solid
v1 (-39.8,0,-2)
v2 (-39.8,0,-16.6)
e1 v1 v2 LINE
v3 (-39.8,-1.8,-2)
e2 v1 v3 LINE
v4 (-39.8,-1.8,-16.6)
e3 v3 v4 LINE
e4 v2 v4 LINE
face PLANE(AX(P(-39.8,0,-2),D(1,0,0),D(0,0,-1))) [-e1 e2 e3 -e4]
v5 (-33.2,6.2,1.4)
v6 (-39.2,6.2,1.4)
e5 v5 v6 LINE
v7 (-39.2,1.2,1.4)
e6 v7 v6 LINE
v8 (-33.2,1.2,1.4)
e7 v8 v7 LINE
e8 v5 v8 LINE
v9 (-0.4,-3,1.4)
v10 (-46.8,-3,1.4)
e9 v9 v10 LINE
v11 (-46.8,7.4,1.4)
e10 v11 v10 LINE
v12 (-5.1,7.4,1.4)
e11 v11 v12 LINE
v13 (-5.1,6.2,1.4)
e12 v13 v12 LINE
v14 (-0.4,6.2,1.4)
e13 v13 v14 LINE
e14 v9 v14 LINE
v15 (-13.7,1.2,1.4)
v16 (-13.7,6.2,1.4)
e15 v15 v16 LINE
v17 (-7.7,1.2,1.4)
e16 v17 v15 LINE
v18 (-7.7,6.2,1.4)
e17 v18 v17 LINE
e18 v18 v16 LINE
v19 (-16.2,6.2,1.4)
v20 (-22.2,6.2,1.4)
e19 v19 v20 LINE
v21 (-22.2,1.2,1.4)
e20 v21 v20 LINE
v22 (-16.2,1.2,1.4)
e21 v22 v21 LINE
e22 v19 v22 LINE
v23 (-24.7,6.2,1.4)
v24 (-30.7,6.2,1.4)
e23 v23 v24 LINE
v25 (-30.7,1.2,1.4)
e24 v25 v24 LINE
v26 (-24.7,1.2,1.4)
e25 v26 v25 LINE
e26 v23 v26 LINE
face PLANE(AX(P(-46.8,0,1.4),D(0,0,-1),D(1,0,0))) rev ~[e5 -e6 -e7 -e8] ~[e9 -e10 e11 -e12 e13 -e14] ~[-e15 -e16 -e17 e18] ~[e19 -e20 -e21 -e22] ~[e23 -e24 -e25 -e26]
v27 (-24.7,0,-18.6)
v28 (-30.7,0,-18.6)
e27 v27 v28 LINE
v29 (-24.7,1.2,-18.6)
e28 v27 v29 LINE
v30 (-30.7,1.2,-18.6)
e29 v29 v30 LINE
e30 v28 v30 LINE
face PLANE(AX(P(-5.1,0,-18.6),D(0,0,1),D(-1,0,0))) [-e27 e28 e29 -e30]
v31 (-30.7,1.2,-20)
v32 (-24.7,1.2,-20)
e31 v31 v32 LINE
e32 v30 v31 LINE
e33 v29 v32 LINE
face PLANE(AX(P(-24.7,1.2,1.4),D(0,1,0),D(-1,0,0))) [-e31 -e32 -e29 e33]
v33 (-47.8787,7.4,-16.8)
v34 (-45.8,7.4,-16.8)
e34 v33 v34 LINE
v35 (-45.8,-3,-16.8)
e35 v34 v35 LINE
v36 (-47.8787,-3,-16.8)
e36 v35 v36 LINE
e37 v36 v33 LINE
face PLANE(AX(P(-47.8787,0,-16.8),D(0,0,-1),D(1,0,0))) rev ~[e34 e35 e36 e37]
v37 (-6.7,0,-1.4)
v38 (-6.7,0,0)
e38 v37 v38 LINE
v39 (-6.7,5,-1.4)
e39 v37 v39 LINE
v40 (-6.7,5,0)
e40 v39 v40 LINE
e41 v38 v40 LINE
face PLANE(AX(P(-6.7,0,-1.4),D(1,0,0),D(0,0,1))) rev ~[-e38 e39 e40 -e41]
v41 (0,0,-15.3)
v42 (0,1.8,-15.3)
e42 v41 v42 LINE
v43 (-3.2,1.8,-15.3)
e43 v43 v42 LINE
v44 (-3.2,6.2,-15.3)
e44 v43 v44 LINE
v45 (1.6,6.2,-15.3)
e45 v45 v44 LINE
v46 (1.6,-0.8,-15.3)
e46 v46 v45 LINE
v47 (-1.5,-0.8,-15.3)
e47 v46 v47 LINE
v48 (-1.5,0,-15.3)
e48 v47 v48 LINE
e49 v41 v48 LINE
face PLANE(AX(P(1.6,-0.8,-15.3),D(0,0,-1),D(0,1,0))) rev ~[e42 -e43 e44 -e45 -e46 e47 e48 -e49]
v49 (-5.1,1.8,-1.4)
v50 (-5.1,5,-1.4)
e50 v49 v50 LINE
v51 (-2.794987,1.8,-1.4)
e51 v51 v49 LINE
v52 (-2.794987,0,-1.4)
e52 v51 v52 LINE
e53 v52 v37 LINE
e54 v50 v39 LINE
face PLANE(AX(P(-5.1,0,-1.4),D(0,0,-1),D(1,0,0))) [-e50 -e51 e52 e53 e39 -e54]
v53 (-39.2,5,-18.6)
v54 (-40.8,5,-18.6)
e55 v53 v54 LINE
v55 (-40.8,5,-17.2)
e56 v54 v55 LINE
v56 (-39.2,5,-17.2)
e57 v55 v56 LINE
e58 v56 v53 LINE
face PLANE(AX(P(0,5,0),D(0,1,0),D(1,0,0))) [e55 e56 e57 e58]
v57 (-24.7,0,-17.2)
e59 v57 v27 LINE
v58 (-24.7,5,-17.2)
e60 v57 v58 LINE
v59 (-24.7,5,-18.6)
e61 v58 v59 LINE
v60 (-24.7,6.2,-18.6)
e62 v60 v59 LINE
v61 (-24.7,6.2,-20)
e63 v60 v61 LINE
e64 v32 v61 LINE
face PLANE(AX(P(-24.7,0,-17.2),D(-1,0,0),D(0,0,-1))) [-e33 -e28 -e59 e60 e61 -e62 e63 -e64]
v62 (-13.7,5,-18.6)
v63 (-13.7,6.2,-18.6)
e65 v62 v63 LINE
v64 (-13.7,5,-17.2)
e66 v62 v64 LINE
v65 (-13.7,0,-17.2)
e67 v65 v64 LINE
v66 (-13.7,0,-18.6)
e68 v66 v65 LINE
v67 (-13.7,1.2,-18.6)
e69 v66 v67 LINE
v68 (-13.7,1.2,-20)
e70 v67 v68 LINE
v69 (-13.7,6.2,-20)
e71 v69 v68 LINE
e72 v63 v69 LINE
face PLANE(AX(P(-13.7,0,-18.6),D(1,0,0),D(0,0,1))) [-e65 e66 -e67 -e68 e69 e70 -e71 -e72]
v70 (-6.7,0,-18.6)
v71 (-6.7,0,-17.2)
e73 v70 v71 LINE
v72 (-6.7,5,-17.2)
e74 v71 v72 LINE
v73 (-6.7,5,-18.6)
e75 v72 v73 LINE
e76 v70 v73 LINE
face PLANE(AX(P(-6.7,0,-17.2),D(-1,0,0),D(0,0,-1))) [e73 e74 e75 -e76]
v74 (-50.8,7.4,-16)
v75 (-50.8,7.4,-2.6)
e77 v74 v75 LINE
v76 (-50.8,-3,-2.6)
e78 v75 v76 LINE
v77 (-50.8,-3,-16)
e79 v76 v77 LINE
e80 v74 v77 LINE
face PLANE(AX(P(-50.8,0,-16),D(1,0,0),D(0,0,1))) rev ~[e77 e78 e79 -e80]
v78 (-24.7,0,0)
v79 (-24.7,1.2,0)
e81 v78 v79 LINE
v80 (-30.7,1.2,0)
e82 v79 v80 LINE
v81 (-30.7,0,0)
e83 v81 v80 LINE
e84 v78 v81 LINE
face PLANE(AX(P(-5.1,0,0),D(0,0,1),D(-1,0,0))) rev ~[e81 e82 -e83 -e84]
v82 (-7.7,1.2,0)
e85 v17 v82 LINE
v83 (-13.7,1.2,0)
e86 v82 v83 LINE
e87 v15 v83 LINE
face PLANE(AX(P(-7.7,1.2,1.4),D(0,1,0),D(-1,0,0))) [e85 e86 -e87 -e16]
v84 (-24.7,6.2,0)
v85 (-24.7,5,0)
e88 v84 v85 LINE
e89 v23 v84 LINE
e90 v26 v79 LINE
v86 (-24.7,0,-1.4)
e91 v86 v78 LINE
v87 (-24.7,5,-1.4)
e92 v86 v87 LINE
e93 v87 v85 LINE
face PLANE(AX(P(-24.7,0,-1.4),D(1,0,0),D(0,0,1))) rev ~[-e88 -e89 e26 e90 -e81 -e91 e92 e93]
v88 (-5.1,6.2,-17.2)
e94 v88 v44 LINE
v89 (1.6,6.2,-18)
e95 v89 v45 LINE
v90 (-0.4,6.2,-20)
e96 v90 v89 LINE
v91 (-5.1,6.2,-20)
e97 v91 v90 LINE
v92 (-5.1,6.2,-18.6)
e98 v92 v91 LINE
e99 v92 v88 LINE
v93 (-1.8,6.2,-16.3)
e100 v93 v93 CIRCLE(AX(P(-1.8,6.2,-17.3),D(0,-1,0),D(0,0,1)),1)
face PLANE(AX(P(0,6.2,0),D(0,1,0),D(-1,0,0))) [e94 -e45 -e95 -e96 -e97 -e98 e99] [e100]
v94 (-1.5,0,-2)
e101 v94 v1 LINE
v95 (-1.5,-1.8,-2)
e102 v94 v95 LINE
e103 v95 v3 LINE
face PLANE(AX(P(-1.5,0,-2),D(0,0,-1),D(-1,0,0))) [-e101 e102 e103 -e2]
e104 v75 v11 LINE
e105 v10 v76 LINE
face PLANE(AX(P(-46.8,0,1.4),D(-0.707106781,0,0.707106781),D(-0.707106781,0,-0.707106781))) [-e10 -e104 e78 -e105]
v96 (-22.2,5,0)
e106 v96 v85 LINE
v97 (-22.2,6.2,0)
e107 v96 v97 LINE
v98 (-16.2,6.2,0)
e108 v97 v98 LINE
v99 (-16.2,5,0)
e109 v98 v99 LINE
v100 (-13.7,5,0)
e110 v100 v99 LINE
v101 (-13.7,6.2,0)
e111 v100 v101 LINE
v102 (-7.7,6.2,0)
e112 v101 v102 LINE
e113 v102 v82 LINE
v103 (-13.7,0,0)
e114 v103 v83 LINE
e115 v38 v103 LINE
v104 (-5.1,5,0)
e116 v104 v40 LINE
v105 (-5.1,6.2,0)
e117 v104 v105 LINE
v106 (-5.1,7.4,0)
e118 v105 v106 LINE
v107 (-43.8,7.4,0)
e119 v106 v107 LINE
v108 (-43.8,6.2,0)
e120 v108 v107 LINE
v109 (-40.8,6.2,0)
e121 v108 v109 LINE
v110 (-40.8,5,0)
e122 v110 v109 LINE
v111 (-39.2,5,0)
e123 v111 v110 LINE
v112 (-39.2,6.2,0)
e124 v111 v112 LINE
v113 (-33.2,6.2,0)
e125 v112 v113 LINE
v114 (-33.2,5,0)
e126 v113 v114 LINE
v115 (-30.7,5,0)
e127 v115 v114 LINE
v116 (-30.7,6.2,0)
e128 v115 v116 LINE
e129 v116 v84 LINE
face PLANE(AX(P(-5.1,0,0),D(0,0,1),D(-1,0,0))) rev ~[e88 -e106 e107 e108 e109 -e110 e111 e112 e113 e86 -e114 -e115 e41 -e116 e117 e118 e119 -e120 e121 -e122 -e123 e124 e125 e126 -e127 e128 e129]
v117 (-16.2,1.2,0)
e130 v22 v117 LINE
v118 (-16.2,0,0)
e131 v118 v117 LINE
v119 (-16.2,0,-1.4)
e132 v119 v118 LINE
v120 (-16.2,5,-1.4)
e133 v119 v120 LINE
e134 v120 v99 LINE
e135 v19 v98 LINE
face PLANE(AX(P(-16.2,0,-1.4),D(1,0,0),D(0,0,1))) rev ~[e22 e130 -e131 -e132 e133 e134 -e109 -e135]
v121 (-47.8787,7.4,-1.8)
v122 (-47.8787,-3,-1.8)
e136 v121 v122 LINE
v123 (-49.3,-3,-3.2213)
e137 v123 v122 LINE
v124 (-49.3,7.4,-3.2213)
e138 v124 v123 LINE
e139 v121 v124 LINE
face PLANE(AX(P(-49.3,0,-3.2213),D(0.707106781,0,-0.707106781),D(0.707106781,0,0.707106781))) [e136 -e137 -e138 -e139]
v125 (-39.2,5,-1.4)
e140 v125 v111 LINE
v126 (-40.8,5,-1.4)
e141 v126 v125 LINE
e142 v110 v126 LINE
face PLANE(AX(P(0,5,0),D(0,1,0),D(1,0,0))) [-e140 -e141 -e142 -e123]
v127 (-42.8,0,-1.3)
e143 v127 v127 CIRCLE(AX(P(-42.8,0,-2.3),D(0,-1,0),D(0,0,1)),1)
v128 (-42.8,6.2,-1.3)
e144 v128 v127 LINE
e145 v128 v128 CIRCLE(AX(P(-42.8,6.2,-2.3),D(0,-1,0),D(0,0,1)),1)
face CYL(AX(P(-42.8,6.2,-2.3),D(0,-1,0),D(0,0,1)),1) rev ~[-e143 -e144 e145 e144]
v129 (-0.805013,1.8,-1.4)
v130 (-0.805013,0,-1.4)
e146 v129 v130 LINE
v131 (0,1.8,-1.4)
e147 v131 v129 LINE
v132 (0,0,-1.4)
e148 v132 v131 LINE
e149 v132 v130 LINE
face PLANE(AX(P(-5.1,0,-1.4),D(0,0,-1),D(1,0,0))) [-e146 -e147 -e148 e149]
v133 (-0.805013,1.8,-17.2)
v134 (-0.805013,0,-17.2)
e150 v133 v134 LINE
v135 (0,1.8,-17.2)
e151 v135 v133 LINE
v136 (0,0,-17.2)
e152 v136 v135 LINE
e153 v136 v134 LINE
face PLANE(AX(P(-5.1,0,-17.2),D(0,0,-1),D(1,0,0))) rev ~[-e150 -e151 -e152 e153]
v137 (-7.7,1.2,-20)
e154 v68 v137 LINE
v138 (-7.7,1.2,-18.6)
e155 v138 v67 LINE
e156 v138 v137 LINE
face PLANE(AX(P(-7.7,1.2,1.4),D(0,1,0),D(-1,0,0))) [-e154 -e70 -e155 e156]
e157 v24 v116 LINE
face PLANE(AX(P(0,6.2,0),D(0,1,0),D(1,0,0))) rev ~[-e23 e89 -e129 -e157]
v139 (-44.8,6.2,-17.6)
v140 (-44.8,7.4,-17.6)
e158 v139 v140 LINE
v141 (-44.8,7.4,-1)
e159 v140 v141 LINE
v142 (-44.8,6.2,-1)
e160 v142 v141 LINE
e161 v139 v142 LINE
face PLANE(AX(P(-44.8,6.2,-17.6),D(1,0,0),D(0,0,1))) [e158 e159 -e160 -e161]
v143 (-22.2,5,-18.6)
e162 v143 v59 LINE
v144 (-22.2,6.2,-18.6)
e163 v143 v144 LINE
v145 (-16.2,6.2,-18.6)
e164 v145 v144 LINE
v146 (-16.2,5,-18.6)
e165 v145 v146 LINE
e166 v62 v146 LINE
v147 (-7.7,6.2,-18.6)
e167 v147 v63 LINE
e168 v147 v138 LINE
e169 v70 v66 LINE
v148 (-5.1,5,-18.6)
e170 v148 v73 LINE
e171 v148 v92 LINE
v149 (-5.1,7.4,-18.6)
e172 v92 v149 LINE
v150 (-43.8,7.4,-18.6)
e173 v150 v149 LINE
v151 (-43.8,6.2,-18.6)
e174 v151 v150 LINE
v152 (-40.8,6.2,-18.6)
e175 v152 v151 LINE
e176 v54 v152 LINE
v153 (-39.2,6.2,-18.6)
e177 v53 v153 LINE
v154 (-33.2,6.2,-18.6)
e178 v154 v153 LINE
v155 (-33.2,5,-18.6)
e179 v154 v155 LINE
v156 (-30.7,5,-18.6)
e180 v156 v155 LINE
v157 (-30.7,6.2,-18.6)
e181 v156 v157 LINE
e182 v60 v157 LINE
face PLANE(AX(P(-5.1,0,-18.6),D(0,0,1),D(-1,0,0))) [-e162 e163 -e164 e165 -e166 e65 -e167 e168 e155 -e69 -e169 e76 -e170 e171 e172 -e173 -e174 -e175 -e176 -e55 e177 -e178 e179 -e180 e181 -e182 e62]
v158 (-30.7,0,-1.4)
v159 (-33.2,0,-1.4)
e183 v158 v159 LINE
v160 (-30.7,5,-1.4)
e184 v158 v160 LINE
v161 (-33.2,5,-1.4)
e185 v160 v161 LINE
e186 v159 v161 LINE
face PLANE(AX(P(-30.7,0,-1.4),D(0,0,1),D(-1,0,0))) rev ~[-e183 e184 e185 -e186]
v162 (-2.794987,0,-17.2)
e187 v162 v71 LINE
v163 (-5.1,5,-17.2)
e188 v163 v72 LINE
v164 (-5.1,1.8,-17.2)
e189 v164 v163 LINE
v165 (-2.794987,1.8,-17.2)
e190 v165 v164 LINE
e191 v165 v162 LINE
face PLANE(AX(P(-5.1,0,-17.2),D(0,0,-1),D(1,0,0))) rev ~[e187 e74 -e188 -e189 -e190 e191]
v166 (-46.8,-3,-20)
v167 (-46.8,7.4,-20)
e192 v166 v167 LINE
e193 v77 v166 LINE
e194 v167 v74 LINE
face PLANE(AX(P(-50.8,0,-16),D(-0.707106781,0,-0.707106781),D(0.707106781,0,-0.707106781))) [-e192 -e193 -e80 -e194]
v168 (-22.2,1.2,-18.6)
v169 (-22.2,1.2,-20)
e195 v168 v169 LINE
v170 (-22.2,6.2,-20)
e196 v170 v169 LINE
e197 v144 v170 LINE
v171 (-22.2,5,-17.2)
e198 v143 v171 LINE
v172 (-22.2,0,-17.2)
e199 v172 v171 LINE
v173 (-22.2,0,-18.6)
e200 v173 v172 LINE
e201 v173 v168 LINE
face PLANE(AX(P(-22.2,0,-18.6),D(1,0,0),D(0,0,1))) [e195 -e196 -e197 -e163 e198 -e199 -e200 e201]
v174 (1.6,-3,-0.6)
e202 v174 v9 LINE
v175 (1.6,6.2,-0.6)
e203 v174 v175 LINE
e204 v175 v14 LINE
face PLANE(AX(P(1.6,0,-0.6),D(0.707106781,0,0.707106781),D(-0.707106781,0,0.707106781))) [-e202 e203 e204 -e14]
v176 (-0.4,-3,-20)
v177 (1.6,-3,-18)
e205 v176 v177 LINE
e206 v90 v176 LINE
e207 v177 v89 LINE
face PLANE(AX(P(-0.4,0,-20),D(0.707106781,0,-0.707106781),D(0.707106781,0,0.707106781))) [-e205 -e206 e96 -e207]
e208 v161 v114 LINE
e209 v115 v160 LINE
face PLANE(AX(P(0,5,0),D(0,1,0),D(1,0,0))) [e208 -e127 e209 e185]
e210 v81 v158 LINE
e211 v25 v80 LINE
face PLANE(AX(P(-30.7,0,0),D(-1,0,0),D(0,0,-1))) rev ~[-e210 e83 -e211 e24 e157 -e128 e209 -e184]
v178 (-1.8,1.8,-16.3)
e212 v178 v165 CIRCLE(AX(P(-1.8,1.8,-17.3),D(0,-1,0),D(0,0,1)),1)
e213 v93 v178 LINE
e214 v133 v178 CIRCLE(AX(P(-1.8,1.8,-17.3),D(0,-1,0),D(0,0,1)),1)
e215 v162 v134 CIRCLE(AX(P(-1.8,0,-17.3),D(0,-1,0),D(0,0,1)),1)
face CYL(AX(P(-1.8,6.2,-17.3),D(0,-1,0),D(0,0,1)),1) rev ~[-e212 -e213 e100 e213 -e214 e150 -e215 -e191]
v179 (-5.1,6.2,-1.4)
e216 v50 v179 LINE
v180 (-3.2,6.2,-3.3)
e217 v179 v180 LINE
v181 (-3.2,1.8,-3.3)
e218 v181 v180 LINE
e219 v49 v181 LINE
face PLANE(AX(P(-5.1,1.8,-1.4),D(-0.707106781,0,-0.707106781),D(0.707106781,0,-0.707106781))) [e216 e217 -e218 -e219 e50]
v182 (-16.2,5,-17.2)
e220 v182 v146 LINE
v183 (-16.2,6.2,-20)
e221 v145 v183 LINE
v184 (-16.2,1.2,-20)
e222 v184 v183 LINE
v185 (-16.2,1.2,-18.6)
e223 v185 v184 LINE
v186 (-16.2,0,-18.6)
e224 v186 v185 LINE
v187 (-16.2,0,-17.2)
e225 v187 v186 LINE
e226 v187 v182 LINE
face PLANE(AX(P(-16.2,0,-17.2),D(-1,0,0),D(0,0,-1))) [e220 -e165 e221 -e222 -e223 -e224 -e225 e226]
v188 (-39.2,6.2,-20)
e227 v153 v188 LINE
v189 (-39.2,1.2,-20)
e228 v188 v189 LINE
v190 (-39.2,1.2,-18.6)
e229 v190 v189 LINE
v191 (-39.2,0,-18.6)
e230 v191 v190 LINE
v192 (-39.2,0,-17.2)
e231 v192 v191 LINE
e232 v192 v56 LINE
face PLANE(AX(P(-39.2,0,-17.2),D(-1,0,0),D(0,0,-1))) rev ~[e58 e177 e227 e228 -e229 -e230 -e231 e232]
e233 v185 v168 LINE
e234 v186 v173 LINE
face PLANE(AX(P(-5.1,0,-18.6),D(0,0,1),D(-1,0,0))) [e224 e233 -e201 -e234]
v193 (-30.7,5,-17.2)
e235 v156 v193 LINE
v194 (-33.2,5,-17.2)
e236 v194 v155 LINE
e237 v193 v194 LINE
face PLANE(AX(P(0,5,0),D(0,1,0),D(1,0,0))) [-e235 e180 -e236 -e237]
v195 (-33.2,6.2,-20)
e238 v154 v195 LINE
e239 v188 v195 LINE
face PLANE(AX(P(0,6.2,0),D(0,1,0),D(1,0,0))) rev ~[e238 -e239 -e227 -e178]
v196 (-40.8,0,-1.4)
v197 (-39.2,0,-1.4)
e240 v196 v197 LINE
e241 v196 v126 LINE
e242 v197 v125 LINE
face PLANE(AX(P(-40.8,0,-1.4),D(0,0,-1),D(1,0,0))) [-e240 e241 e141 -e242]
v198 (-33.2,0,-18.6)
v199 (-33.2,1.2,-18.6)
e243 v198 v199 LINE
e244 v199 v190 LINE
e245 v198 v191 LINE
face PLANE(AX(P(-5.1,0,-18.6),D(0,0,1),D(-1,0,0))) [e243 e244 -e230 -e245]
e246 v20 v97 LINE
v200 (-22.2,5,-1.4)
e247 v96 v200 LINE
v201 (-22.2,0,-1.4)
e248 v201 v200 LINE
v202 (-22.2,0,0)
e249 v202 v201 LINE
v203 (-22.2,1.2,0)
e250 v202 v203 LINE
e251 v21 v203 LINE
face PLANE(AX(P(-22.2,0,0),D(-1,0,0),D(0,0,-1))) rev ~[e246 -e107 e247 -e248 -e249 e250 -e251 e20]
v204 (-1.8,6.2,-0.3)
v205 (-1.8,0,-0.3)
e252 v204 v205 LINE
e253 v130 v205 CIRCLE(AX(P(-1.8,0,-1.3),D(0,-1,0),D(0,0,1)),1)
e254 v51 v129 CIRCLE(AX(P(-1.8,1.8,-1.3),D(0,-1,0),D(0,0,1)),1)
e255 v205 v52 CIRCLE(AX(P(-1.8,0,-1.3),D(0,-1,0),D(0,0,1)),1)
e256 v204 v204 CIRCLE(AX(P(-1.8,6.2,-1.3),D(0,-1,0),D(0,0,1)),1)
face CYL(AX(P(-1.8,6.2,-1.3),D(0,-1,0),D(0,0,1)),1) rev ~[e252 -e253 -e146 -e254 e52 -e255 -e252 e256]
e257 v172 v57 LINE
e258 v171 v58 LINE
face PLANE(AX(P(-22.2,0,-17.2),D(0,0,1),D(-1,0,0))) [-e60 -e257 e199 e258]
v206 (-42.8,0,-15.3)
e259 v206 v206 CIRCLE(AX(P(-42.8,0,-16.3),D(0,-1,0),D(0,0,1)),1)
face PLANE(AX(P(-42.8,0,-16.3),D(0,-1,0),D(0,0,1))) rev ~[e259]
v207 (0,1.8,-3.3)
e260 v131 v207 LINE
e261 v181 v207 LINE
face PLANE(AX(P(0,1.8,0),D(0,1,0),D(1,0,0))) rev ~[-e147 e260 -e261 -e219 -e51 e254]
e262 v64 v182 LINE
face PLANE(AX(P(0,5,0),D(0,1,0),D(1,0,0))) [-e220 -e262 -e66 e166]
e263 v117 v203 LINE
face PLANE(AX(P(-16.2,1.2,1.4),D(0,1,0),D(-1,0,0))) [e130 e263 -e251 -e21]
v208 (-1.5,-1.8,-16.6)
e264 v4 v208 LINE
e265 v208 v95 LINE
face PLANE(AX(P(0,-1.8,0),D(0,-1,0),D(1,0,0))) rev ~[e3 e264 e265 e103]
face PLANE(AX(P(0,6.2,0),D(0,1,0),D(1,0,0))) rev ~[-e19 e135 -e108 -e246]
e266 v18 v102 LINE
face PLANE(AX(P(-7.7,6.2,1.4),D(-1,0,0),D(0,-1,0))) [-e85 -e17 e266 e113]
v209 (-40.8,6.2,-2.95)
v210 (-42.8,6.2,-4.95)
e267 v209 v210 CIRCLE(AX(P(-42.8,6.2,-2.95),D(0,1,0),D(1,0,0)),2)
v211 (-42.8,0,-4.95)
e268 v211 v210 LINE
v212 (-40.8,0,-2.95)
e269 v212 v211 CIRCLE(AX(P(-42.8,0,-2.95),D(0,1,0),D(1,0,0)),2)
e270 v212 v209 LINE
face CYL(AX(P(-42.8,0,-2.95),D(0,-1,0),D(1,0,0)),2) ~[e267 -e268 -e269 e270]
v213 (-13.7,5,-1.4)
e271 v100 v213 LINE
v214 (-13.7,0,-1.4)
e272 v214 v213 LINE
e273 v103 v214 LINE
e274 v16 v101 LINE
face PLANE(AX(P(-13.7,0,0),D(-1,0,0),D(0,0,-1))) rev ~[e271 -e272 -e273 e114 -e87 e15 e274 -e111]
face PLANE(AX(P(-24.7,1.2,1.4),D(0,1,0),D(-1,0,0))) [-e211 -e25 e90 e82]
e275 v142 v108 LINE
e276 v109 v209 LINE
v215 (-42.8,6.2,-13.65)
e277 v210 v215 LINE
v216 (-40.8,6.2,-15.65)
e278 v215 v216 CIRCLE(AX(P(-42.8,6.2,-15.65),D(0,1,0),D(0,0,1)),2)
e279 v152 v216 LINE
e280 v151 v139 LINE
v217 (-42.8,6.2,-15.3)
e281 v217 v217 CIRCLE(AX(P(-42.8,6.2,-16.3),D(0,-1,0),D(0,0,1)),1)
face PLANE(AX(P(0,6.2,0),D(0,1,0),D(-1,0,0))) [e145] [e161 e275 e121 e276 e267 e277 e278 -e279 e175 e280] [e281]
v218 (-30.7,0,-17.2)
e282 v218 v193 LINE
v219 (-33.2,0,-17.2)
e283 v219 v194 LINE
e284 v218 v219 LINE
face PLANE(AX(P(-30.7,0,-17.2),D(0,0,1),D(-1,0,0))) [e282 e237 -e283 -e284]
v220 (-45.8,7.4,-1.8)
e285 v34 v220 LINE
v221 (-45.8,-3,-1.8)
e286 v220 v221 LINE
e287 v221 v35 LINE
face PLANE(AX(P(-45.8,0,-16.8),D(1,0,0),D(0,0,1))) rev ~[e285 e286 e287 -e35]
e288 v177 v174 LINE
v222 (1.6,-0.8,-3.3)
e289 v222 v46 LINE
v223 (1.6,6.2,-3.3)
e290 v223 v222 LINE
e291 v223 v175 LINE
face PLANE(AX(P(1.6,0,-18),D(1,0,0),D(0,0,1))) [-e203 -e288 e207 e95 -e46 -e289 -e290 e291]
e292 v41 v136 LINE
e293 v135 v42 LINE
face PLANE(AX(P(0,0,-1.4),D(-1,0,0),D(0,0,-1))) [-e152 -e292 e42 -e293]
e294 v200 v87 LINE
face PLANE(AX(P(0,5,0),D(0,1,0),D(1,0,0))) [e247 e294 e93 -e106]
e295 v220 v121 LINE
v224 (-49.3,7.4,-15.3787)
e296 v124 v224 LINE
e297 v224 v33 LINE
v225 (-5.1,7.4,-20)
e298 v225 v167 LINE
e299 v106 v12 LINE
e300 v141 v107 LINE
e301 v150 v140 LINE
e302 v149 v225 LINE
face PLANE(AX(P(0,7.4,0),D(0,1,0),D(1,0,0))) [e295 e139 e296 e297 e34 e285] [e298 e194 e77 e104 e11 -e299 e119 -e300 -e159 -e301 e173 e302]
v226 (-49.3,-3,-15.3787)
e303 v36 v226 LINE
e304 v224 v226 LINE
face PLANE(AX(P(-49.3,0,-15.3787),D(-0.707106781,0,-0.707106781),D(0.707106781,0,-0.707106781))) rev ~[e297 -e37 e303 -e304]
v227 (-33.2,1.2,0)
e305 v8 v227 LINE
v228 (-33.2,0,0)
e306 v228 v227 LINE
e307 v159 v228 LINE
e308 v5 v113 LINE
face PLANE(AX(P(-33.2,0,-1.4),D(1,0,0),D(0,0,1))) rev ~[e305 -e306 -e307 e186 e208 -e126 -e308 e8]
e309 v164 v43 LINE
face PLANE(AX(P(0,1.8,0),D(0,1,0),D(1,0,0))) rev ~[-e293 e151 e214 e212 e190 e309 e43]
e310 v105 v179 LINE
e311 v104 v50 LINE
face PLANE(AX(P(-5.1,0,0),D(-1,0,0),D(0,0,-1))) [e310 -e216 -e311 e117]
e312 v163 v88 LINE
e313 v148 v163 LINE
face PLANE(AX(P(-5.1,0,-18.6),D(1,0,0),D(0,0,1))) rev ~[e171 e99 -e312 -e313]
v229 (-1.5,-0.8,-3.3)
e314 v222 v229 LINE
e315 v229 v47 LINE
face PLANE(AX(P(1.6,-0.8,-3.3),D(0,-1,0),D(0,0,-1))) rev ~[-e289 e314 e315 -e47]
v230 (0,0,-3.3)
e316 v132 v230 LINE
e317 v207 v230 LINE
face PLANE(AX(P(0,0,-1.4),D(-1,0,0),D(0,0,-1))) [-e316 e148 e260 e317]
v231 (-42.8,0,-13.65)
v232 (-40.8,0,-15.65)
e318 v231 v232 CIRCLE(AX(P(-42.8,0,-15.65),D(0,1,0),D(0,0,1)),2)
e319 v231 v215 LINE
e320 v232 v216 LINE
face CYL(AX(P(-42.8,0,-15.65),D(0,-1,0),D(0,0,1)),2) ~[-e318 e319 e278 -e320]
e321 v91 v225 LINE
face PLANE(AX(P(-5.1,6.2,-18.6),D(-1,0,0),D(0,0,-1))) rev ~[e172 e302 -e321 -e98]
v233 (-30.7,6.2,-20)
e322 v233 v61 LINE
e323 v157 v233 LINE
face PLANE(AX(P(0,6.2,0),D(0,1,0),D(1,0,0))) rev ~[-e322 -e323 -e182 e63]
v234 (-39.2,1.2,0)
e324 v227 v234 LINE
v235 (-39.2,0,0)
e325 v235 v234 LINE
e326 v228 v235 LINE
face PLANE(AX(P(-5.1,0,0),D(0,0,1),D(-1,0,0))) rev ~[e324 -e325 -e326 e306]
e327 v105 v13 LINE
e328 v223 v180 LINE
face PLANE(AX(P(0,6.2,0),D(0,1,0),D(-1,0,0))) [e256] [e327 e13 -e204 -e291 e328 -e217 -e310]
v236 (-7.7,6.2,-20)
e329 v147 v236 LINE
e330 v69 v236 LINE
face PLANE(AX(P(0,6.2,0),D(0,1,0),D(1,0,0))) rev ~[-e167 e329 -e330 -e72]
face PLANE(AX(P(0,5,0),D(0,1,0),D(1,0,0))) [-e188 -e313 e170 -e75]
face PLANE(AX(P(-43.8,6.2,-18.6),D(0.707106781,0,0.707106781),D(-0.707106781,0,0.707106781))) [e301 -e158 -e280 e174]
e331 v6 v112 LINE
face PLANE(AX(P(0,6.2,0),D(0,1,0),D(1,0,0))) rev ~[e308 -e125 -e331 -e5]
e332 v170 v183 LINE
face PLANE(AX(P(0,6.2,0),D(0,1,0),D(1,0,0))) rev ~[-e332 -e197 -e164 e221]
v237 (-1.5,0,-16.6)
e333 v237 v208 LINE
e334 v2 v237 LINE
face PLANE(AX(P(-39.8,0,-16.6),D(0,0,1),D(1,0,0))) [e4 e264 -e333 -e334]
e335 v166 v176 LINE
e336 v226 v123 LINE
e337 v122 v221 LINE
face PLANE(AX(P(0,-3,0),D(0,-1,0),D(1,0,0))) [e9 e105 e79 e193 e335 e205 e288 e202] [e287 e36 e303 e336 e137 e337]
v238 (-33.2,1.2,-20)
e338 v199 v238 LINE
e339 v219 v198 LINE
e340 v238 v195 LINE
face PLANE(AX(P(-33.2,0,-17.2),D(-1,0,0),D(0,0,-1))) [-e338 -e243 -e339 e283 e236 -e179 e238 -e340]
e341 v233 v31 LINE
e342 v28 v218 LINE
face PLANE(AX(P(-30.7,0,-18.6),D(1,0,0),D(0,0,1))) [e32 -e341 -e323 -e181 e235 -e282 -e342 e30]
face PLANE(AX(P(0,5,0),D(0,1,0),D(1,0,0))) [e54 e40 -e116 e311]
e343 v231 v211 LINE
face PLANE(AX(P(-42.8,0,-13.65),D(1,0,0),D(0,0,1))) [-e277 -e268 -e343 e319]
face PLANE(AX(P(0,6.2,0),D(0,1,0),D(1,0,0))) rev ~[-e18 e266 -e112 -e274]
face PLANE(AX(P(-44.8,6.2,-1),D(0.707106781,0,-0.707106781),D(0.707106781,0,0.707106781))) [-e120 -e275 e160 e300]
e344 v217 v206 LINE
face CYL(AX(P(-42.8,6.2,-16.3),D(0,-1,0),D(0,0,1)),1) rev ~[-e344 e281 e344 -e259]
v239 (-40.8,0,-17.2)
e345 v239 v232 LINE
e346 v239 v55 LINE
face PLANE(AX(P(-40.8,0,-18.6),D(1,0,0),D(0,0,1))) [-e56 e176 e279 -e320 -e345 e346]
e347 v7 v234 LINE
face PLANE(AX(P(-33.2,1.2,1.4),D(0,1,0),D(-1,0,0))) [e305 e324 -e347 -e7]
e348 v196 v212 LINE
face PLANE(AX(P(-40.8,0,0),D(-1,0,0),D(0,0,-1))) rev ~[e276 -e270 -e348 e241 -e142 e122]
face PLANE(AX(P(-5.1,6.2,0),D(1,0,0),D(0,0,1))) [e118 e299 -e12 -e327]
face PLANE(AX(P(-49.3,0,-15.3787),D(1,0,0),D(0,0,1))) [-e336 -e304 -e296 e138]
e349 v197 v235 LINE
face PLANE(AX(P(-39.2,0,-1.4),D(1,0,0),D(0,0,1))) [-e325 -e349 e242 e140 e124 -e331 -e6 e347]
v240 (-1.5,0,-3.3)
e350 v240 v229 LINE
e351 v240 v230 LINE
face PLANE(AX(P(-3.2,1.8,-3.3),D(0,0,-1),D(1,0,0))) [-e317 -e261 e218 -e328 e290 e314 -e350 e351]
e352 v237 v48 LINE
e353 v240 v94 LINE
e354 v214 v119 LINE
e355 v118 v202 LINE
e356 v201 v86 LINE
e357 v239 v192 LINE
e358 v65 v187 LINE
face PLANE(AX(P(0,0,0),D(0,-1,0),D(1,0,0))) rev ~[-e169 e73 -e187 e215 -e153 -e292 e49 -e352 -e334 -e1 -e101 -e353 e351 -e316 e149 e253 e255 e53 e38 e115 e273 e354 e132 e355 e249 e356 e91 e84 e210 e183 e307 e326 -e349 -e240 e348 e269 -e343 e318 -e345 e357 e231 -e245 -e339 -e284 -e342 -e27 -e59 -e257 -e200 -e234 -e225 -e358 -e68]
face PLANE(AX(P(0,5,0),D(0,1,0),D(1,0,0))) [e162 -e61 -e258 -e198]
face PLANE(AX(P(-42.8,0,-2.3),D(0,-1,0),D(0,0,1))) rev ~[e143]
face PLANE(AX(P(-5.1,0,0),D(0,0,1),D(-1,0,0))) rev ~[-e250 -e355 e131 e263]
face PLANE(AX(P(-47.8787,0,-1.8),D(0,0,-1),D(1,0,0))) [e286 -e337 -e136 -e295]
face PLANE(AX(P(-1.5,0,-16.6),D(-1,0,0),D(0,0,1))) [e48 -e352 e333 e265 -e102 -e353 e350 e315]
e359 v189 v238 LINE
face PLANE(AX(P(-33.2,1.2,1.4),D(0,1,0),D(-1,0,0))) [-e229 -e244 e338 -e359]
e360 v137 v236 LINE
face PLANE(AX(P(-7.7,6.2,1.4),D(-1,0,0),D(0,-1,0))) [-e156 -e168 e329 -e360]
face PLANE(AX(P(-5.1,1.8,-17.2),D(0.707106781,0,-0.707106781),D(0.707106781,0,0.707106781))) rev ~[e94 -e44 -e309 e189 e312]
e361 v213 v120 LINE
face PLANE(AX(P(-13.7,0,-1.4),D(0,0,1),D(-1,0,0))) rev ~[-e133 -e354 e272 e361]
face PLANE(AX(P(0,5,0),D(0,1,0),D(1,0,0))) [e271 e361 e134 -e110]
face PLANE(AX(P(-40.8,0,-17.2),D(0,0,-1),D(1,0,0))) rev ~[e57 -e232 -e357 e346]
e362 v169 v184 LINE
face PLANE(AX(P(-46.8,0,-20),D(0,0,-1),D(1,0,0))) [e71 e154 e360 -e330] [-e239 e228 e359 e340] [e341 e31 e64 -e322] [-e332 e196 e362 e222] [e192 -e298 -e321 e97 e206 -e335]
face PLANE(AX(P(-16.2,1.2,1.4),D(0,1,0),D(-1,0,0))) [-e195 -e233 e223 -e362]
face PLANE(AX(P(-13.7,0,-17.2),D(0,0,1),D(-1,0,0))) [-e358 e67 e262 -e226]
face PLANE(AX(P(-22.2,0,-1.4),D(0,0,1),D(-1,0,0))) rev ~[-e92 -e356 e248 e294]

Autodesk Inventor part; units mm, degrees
ref_plane "YZ Plane" through (0, 0, 0) normal (1, 0, 0) x (0, 1, 0)
ref_plane "XZ Plane" through (0, 0, 0) normal (0, 1, 0) x (-1, 0, 0)
sketch "Эскиз1" plane through (0, 0, 0) normal (0, 1, 0) x (-1, 0, 0)
  line L0 (0, 0) -> (0, -18.6)
  line L1 (0, -18.6) -> (40.8, -18.6)
  line L2 (40.8, -18.6) -> (40.8, -15.65)
  arc A0 (42.8, -13.65) -> (40.8, -15.65) centre (42.8, -15.65) ccw
  line L3 (42.8, -15.65) -> (42.8, -13.65) construction
  line L4 (42.8, -15.65) -> (40.8, -15.65) construction
  line L5 (42.8, -13.65) -> (42.8, -4.95)
  line L6 (42.8, -9.3) -> (0, -9.3)
  line L7 (0, 0) -> (40.8, 0)
  line L8 (40.8, 0) -> (40.8, -2.95)
  arc A1 (40.8, -2.95) -> (42.8, -4.95) centre (42.8, -2.95) ccw
  line L9 (42.8, -2.95) -> (42.8, -4.95) construction
  line L10 (42.8, -2.95) -> (40.8, -2.95) construction
  line L11 (46.8, -20) -> (0.4, -20)
  line L12 (46.8, 1.4) -> (0.4, 1.4)
  line L13 (50.8, -16) -> (50.8, -2.6)
  line L14 (45.8, -16.8) -> (45.8, -1.8)
  line L15 (49.3, -15.3787) -> (49.3, -3.2213)
  line L16 (5.1, -18.6) -> (5.1, -17.2)
  line L17 (5.1, -17.2) -> (0, -17.2)
  line L18 (5.1, 0) -> (5.1, -1.4)
  line L19 (5.1, -1.4) -> (0, -1.4)
  line L20 (0.4, -20) -> (-1.6, -18)
  line L21 (-1.6, -18) -> (-1.6, -0.6)
  line L22 (-1.6, -0.6) -> (0.4, 1.4)
  line L23 (46.8, 1.4) -> (50.8, -2.6)
  line L24 (50.8, -16) -> (46.8, -20)
  line L25 (49.3, -15.3787) -> (47.8787, -16.8)
  line L26 (47.8787, -16.8) -> (45.8, -16.8)
  line L27 (49.3, -3.2213) -> (47.8787, -1.8)
  line L28 (47.8787, -1.8) -> (45.8, -1.8)
  point P0 (5.1, 0)
  point P1 (0, -1.4)
  point P2 (45.8, -9.3)
  point P3 (49.3, -9.3)
  point P4 (50.8, -9.3)
  dimension "d1" = 42.8
  dimension "d3" = 2
  dimension "d4" = 12.7
  dimension "d8" = 18.6
  dimension "d12" = 3.5
  dimension "d32" = 21.4
  dimension "d34" = 5.1
  dimension "d35" = 15.8
  dimension "d41" = 135
  dimension "d42" = 1.6
  dimension "d43" = 2
  dimension "d65" = 8
  dimension "d66" = 1.5
  dimension "d67" = 15
  dimension "d68" = 1.5
  dimension "d69" = 4
extrude "Выдавливание1" add sketch "Эскиз1" along normal blind 6.2 contours L7 L18 L19 L0 | L17 L16 L1 L0 | L11 L20 L21 L22 L12 L23 L13 L24
sketch "Эскиз2" plane through (0, 0, 0) normal (0, -1, 0) x (1, 0, 0)
  line L0 (-0.4, -20) -> (-46.8, -20) projected
  line L1 (-46.8, 1.4) -> (-0.4, 1.4) projected
  line L2 (-50.8, -16) -> (-50.8, -2.6) projected
  line L3 (-42.8, -4.95) -> (-42.8, -13.65) projected
  arc A0 (-42.8, -4.95) -> (-40.8, -2.95) centre (-42.8, -2.95) ccw projected
  line L4 (-40.8, 0) -> (-40.8, -2.95) projected
  line L5 (-5.1, 0) -> (-40.8, 0) projected
  line L6 (0, -17.2) -> (0, -1.4) projected
  line L7 (-40.8, -18.6) -> (-5.1, -18.6) projected
  line L8 (-40.8, -15.65) -> (-40.8, -18.6) projected
  arc A1 (-40.8, -15.65) -> (-42.8, -13.65) centre (-42.8, -15.65) ccw projected
  line L9 (-40.8, -15.65) -> (-40.8, -18.6) projected
  line L10 (-40.8, -18.6) -> (-5.1, -18.6) projected
  line L11 (-39.8, -16.6) -> (-1.5, -16.6)
  line L12 (-1.5, -16.6) -> (-1.5, -2)
  line L13 (-1.5, -2) -> (-39.8, -2)
  line L14 (-39.8, -2) -> (-39.8, -16.6)
  line L15 (-5.1, -1.4) -> (-5.1, 0) projected
  line L16 (0, -1.4) -> (-5.1, -1.4) projected
  line L17 (-5.1, -17.2) -> (0, -17.2) projected
  line L18 (-5.1, -18.6) -> (-5.1, -17.2) projected
  line L19 (1.6, -18) -> (-0.4, -20) projected
  line L20 (1.6, -0.6) -> (1.6, -18) projected
  line L21 (-0.4, 1.4) -> (1.6, -0.6) projected
  line L22 (-50.8, -2.6) -> (-46.8, 1.4) projected
  line L23 (-46.8, -20) -> (-50.8, -16) projected
  line L24 (-49.3, -3.2213) -> (-49.3, -15.3787) projected
  line L25 (-47.8787, -1.8) -> (-49.3, -3.2213) projected
  line L26 (-45.8, -1.8) -> (-47.8787, -1.8) projected
  line L27 (-45.8, -16.8) -> (-45.8, -1.8) projected
  line L28 (-47.8787, -16.8) -> (-45.8, -16.8) projected
  line L29 (-49.3, -15.3787) -> (-47.8787, -16.8) projected
  point P0 (0, -18.2)
  point P1 (-42.8, -9.3)
  point P2 (-39.8, -9.3)
  dimension "d17" = 1.5
  dimension "d18" = 3
  dimension "d33" = 14.6
extrude "Выдавливание2" add sketch "Эскиз2" along normal blind 1.8 contours L0 L23 L2 L22 L1 L21 L20 L19 | A0 L4 L5 L15 L16 L6 L17 L18 L7 L8 A1 L3
sketch "Эскиз3" plane through (0, -1.8, 0) normal (0, -1, 0) x (1, 0, 0)
  line L0 (-0.4, 1.4) -> (-46.8, 1.4) projected
  line L1 (-50.8, -2.6) -> (-50.8, -16) projected
  line L2 (-46.8, -20) -> (-0.4, -20) projected
  line L3 (-1.5, -2) -> (-1.5, -16.6) projected
  line L4 (-1.5, -16.6) -> (-39.8, -16.6) projected
  line L5 (-39.8, -16.6) -> (-39.8, -2) projected
  line L6 (-39.8, -2) -> (-1.5, -2) projected
  line L7 (-0.4, -20) -> (1.6, -18) projected
  line L8 (1.6, -18) -> (1.6, -0.6) projected
  line L9 (1.6, -0.6) -> (-0.4, 1.4) projected
  line L10 (-46.8, 1.4) -> (-50.8, -2.6) projected
  line L11 (-50.8, -16) -> (-46.8, -20) projected
  line L12 (-49.3, -15.3787) -> (-49.3, -3.2213) projected
  line L13 (-49.3, -3.2213) -> (-47.8787, -1.8) projected
  line L14 (-47.8787, -1.8) -> (-45.8, -1.8) projected
  line L15 (-45.8, -1.8) -> (-45.8, -16.8) projected
  line L16 (-45.8, -16.8) -> (-47.8787, -16.8) projected
  line L17 (-47.8787, -16.8) -> (-49.3, -15.3787) projected
  point P0 (0, 0)
extrude "Выдавливание3" add sketch "Эскиз3" along normal blind 1.2 contours L9 L8 L7 L2 L11 L1 L10 L0 | L3 L4 L5 L6
sketch "Эскиз5" plane through (-46.8, 6.2, 1.4) normal (0, 0, 1) x (1, 0, 0)
  line L0 (7.6, 0) -> (13.6, 0)
  line L1 (13.6, 0) -> (13.6, -5)
  line L2 (13.6, -5) -> (7.6, -5)
  line L3 (7.6, -5) -> (7.6, 0)
  line L4 (0, 0) -> (46.4, 0) projected
  line L5 (4, -6.2) -> (4, 0) projected
  point P0 (46.8, -6.2)
  point P1 (46.5, 0)
  dimension "d27" = 6
  dimension "d28" = 5
  dimension "d29" = 3.6
extrude "Выдавливание5" cut sketch "Эскиз5" against normal through all
pattern_linear "Прямоуг.массив1" count 4 spacing 8.5 along (1, 0, 0) of "Выдавливание5"
sketch "Эскиз6" plane through (0, 0, 0) normal (0, 1, 0) x (1, 0, 0)
  line L0 (-5.1, 0) -> (-40.8, 0) projected
  line L1 (-16.2, 0) -> (-13.7, 0)
  line L2 (-13.7, 0) -> (-13.7, 1.4)
  line L3 (-13.7, 1.4) -> (-16.2, 1.4)
  line L4 (-16.2, 1.4) -> (-16.2, 0)
  line L5 (-24.7, 0) -> (-22.2, 0)
  line L6 (-22.2, 0) -> (-22.2, 1.4)
  line L7 (-22.2, 1.4) -> (-24.7, 1.4)
  line L8 (-24.7, 1.4) -> (-24.7, 0)
  line L9 (-33.2, 0) -> (-30.7, 0)
  line L10 (-30.7, 0) -> (-30.7, 1.4)
  line L11 (-30.7, 1.4) -> (-33.2, 1.4)
  line L12 (-33.2, 1.4) -> (-33.2, 0)
  line L13 (-39.2, 0) -> (-40.8, 0)
  line L14 (-40.8, 0) -> (-40.8, 1.4)
  line L15 (-40.8, 1.4) -> (-39.2, 1.4)
  line L16 (-39.2, 1.4) -> (-39.2, 0)
  line L17 (-5.1, 0) -> (-7.7, 0) projected
  line L18 (-5.1, 0) -> (-40.8, 0) projected
  line L19 (-39.2, 0) -> (-40.8, 0) projected
  line L20 (-39.2, 0) -> (-33.2, 0) projected
  line L21 (0, 1.4) -> (-5.1, 1.4) projected
  line L22 (-6.7, 0) -> (-5.1, 0)
  line L23 (-5.1, 0) -> (-5.1, 1.4)
  line L24 (-5.1, 1.4) -> (-6.7, 1.4)
  line L25 (-6.7, 1.4) -> (-6.7, 0)
  line L26 (-42.8, 4.95) -> (-42.8, 13.65) projected
  line L27 (-42.8, 9.3) -> (-1.5, 9.3)
  line L28 (-5.1, 18.6) -> (-40.8, 18.6)
  line L29 (-16.2, 18.6) -> (-13.7, 18.6)
  line L30 (-13.7, 18.6) -> (-13.7, 17.2)
  line L31 (-13.7, 17.2) -> (-16.2, 17.2)
  line L32 (-16.2, 17.2) -> (-16.2, 18.6)
  line L33 (-24.7, 18.6) -> (-22.2, 18.6)
  line L34 (-22.2, 18.6) -> (-22.2, 17.2)
  line L35 (-22.2, 17.2) -> (-24.7, 17.2)
  line L36 (-24.7, 17.2) -> (-24.7, 18.6)
  line L37 (-33.2, 18.6) -> (-30.7, 18.6)
  line L38 (-30.7, 18.6) -> (-30.7, 17.2)
  line L39 (-30.7, 17.2) -> (-33.2, 17.2)
  line L40 (-33.2, 17.2) -> (-33.2, 18.6)
  line L41 (-39.2, 18.6) -> (-40.8, 18.6)
  line L42 (-40.8, 18.6) -> (-40.8, 17.2)
  line L43 (-40.8, 17.2) -> (-39.2, 17.2)
  line L44 (-39.2, 17.2) -> (-39.2, 18.6)
  line L45 (-5.1, 18.6) -> (-6.7, 18.6)
  line L46 (-5.1, 18.6) -> (-40.8, 18.6)
  line L47 (-39.2, 18.6) -> (-40.8, 18.6)
  line L48 (-39.2, 18.6) -> (-33.2, 18.6)
  line L49 (-30.7, 18.6) -> (-33.2, 18.6)
  line L50 (-30.7, 18.6) -> (-24.7, 18.6)
  line L51 (-22.2, 18.6) -> (-24.7, 18.6)
  line L52 (-22.2, 18.6) -> (-16.2, 18.6)
  line L53 (-13.7, 18.6) -> (-16.2, 18.6)
  line L54 (-12.7, 18.4) -> (-6.7, 18.4)
  line L55 (0, 17.2) -> (-5.1, 17.2)
  line L56 (-6.7, 18.6) -> (-5.1, 18.6)
  line L57 (-5.1, 18.6) -> (-5.1, 17.2)
  line L58 (-5.1, 17.2) -> (-6.7, 17.2)
  line L59 (-6.7, 17.2) -> (-6.7, 18.6)
  line L60 (-1.5, 2) -> (-1.5, 16.6) projected
  line L61 (-30.7, 0) -> (-33.2, 0) projected
  line L62 (-30.7, 0) -> (-24.7, 0) projected
  line L63 (-22.2, 0) -> (-24.7, 0) projected
  line L64 (-22.2, 0) -> (-16.2, 0) projected
  line L65 (-13.7, 0) -> (-16.2, 0) projected
  line L66 (-13.7, 0) -> (-7.7, 0) projected
  point P0 (0, 0)
  point P1 (0, 18.6)
  point P2 (-22.2, 18.6)
  point P3 (-6.7, 0)
  point P4 (-13.7, 0)
  point P5 (-22.2, 0)
  point P6 (-30.7, 0)
extrude "Выдавливание6" add sketch "Эскиз6" along normal blind 5
sketch "Эскиз7" plane through (1.6, 6.2, -0.6) normal (1, 0, 0) x (0, 0, -1)
  line L0 (16.2, 0) -> (1.2, 0) projected
  line L1 (14.7, 0) -> (2.7, 0)
  line L2 (2.7, 0) -> (2.7, -7)
  line L3 (2.7, -7) -> (14.7, -7)
  line L4 (14.7, -7) -> (14.7, 0)
  point P0 (-0.6, -6.2)
  point P1 (16.5, 0)
  point P2 (-0.5, 0)
  point P3 (8.7, 0)
  point P4 (2.7, 0)
  dimension "d44" = 12
  dimension "d45" = 7
extrude "Выдавливание7" cut sketch "Эскиз7" against normal up to next
ref_plane "РабПлоскость1" through (0, 1.8, 0) normal (0, 1, 0) x (1, 0, 0)
sketch "Эскиз8" plane through (0, 1.8, 0) normal (0, 1, 0) x (1, 0, 0)
  line L0 (0, 17.2) -> (0, 15.3) projected
  line L1 (0, 17.2) -> (-5.1, 17.2)
  line L2 (0, 15.3) -> (0, 17.2)
  line L3 (-42.8, 4.95) -> (-42.8, 13.65) projected
  line L4 (-42.8, 9.3) -> (1.6, 9.3)
  line L5 (1.6, 15.3) -> (1.6, 3.3) projected
  line L6 (-5.1, 17.2) -> (-3.2, 15.3)
  line L7 (-3.2, 15.3) -> (0, 15.3)
  line L8 (0, 17.2) -> (-6.7, 17.2) projected
  line L9 (0, 1.4) -> (0, 3.3)
  line L10 (0, 1.4) -> (-5.1, 1.4)
  line L11 (0, 3.3) -> (0, 1.4)
  line L12 (-5.1, 1.4) -> (-3.2, 3.3)
  line L13 (-3.2, 3.3) -> (0, 3.3)
  point P0 (0, 0)
  point P1 (-6.7, 17.1)
  point P2 (-6.7, 17.2)
  dimension "d49" = 45
extrude "Выдавливание8" add sketch "Эскиз8" along normal up to surface (4.4 mm away)
sketch "Эскиз10" plane through (0, 6.2, 0) normal (0, 1, 0) x (1, 0, 0)
  line L0 (-42.8, 4.95) -> (-42.8, 13.65) projected
  line L1 (-42.8, 9.3) -> (-1.5, 9.3)
  line L2 (-1.5, 2) -> (-1.5, 16.6) projected
  line L3 (-45.8, 16.8) -> (-45.8, 1.8) projected
  line L4 (1.6, 15.3) -> (1.6, 18) projected
  point P0 (0, 0)
  point P1 (-42.8, 16.3)
  point P2 (-42.8, 2.3)
  point P3 (-1.8, 17.3)
  point P4 (-1.8, 1.3)
  point P5 (-44.8, 17.7)
  point P6 (-44.8, 0.7)
  point P7 (-45.8, 1.8)
  dimension "d59" = 16
  dimension "d60" = 14
  dimension "d62" = 3.4
  dimension "d76" = 41
hole "Отверстие1" at (-42.8, 6.2, -16.3) at (-42.8, 6.2, -2.3) at (-1.8, 6.2, -17.3) at (-1.8, 6.2, -1.3) direction (0, -1, 0) diameter 2 depth 6.2
sketch "Эскиз13" plane through (0, 6.2, 0) normal (0, 1, 0) x (1, 0, 0)
  circle A0 centre (-42.8, 16.3) radius 1 projected
  circle A1 centre (-42.8, 2.3) radius 1 projected
  line L0 (-47.8787, 1.8) -> (-49.3, 3.2213) projected
  line L1 (-49.3, 3.2213) -> (-49.3, 15.3787) projected
  line L2 (-49.3, 15.3787) -> (-47.8787, 16.8) projected
  line L3 (-47.8787, 16.8) -> (-45.8, 16.8) projected
  line L4 (-45.8, 16.8) -> (-45.8, 1.8) projected
  line L5 (-45.8, 1.8) -> (-47.8787, 1.8) projected
  line L6 (-50.8, 2.6) -> (-46.8, -1.4) projected
  line L7 (-46.8, -1.4) -> (-39.2, -1.4) projected
  line L8 (-39.2, -1.4) -> (-39.2, 0) projected
  line L9 (-39.2, 0) -> (-40.8, 0) projected
  line L10 (-40.8, 0) -> (-40.8, 2.95) projected
  arc A2 (-40.8, 2.95) -> (-42.8, 4.95) centre (-42.8, 2.95) ccw projected
  line L11 (-42.8, 4.95) -> (-42.8, 13.65) projected
  arc A3 (-42.8, 13.65) -> (-40.8, 15.65) centre (-42.8, 15.65) ccw projected
  line L12 (-40.8, 15.65) -> (-40.8, 18.6) projected
  line L13 (-40.8, 18.6) -> (-39.2, 18.6) projected
  line L14 (-39.2, 18.6) -> (-39.2, 20) projected
  line L15 (-39.2, 20) -> (-46.8, 20) projected
  line L16 (-46.8, 20) -> (-50.8, 16) projected
  line L17 (-50.8, 16) -> (-50.8, 2.6) projected
  line L18 (-40.8, 18.6) -> (-39.2, 18.6) projected
  line L19 (-7.7, 18.6) -> (-13.7, 18.6) projected
  line L20 (-39.2, 18.6) -> (-7.7, 18.6)
  line L21 (-5.1, 18.6) -> (-5.1, 17.2) projected
  line L22 (-7.7, 18.6) -> (-5.1, 18.6)
  line L23 (-5.1, 18.6) -> (-5.1, 20)
  line L24 (-0.4, 20) -> (-7.7, 20) projected
  line L25 (-5.1, 20) -> (-39.2, 20)
  line L26 (-46.8, 20) -> (-0.4, 20) projected
  line L27 (-39.2, 0) -> (-40.8, 0) projected
  line L28 (-5.1, 0) -> (-24.7, 0) projected
  line L29 (-39.2, 0) -> (-5.1, 0)
  line L30 (-5.1, 0) -> (-5.1, -1.4)
  line L31 (-0.4, -1.4) -> (-46.8, -1.4) projected
  line L32 (-39.2, -1.4) -> (-39.2, 0) projected
  line L33 (-5.1, -1.4) -> (-39.2, -1.4)
  line L34 (-40.8, 0) -> (-40.8, 1.4) projected
  line L35 (-40.8, 18.6) -> (-43.8, 18.6)
  line L36 (-43.8, 18.6) -> (-44.8, 17.6)
  line L37 (-44.8, 17.6) -> (-44.8, 1)
  line L38 (-44.8, 1) -> (-43.8, 0)
  line L39 (-43.8, 0) -> (-40.8, 0)
  line L40 (-42.8, 4.95) -> (-42.8, 13.65) projected
  line L41 (-42.8, 9.3) -> (-1.5, 9.3)
  line L42 (-1.5, 2) -> (-1.5, 16.6) projected
  point P0 (0, 0)
  point P1 (-6.7, 0)
  point P2 (-1.5, 2.1165)
  point P3 (-1.5, 16.2835)
  point P4 (-6.7, 0)
  dimension "d71" = 1
  dimension "d72" = 1
extrude "Выдавливание9" add sketch "Эскиз13" along normal blind 1.2 contours L17 L16 L15 L14 L13 L35 L36 L37 L38 L39 L9 L8 L7 L6 | L8 L29 L28 L30 L31 | L25 L24 L23 L22 L19 L20 L14
properties part number "Case_main"
